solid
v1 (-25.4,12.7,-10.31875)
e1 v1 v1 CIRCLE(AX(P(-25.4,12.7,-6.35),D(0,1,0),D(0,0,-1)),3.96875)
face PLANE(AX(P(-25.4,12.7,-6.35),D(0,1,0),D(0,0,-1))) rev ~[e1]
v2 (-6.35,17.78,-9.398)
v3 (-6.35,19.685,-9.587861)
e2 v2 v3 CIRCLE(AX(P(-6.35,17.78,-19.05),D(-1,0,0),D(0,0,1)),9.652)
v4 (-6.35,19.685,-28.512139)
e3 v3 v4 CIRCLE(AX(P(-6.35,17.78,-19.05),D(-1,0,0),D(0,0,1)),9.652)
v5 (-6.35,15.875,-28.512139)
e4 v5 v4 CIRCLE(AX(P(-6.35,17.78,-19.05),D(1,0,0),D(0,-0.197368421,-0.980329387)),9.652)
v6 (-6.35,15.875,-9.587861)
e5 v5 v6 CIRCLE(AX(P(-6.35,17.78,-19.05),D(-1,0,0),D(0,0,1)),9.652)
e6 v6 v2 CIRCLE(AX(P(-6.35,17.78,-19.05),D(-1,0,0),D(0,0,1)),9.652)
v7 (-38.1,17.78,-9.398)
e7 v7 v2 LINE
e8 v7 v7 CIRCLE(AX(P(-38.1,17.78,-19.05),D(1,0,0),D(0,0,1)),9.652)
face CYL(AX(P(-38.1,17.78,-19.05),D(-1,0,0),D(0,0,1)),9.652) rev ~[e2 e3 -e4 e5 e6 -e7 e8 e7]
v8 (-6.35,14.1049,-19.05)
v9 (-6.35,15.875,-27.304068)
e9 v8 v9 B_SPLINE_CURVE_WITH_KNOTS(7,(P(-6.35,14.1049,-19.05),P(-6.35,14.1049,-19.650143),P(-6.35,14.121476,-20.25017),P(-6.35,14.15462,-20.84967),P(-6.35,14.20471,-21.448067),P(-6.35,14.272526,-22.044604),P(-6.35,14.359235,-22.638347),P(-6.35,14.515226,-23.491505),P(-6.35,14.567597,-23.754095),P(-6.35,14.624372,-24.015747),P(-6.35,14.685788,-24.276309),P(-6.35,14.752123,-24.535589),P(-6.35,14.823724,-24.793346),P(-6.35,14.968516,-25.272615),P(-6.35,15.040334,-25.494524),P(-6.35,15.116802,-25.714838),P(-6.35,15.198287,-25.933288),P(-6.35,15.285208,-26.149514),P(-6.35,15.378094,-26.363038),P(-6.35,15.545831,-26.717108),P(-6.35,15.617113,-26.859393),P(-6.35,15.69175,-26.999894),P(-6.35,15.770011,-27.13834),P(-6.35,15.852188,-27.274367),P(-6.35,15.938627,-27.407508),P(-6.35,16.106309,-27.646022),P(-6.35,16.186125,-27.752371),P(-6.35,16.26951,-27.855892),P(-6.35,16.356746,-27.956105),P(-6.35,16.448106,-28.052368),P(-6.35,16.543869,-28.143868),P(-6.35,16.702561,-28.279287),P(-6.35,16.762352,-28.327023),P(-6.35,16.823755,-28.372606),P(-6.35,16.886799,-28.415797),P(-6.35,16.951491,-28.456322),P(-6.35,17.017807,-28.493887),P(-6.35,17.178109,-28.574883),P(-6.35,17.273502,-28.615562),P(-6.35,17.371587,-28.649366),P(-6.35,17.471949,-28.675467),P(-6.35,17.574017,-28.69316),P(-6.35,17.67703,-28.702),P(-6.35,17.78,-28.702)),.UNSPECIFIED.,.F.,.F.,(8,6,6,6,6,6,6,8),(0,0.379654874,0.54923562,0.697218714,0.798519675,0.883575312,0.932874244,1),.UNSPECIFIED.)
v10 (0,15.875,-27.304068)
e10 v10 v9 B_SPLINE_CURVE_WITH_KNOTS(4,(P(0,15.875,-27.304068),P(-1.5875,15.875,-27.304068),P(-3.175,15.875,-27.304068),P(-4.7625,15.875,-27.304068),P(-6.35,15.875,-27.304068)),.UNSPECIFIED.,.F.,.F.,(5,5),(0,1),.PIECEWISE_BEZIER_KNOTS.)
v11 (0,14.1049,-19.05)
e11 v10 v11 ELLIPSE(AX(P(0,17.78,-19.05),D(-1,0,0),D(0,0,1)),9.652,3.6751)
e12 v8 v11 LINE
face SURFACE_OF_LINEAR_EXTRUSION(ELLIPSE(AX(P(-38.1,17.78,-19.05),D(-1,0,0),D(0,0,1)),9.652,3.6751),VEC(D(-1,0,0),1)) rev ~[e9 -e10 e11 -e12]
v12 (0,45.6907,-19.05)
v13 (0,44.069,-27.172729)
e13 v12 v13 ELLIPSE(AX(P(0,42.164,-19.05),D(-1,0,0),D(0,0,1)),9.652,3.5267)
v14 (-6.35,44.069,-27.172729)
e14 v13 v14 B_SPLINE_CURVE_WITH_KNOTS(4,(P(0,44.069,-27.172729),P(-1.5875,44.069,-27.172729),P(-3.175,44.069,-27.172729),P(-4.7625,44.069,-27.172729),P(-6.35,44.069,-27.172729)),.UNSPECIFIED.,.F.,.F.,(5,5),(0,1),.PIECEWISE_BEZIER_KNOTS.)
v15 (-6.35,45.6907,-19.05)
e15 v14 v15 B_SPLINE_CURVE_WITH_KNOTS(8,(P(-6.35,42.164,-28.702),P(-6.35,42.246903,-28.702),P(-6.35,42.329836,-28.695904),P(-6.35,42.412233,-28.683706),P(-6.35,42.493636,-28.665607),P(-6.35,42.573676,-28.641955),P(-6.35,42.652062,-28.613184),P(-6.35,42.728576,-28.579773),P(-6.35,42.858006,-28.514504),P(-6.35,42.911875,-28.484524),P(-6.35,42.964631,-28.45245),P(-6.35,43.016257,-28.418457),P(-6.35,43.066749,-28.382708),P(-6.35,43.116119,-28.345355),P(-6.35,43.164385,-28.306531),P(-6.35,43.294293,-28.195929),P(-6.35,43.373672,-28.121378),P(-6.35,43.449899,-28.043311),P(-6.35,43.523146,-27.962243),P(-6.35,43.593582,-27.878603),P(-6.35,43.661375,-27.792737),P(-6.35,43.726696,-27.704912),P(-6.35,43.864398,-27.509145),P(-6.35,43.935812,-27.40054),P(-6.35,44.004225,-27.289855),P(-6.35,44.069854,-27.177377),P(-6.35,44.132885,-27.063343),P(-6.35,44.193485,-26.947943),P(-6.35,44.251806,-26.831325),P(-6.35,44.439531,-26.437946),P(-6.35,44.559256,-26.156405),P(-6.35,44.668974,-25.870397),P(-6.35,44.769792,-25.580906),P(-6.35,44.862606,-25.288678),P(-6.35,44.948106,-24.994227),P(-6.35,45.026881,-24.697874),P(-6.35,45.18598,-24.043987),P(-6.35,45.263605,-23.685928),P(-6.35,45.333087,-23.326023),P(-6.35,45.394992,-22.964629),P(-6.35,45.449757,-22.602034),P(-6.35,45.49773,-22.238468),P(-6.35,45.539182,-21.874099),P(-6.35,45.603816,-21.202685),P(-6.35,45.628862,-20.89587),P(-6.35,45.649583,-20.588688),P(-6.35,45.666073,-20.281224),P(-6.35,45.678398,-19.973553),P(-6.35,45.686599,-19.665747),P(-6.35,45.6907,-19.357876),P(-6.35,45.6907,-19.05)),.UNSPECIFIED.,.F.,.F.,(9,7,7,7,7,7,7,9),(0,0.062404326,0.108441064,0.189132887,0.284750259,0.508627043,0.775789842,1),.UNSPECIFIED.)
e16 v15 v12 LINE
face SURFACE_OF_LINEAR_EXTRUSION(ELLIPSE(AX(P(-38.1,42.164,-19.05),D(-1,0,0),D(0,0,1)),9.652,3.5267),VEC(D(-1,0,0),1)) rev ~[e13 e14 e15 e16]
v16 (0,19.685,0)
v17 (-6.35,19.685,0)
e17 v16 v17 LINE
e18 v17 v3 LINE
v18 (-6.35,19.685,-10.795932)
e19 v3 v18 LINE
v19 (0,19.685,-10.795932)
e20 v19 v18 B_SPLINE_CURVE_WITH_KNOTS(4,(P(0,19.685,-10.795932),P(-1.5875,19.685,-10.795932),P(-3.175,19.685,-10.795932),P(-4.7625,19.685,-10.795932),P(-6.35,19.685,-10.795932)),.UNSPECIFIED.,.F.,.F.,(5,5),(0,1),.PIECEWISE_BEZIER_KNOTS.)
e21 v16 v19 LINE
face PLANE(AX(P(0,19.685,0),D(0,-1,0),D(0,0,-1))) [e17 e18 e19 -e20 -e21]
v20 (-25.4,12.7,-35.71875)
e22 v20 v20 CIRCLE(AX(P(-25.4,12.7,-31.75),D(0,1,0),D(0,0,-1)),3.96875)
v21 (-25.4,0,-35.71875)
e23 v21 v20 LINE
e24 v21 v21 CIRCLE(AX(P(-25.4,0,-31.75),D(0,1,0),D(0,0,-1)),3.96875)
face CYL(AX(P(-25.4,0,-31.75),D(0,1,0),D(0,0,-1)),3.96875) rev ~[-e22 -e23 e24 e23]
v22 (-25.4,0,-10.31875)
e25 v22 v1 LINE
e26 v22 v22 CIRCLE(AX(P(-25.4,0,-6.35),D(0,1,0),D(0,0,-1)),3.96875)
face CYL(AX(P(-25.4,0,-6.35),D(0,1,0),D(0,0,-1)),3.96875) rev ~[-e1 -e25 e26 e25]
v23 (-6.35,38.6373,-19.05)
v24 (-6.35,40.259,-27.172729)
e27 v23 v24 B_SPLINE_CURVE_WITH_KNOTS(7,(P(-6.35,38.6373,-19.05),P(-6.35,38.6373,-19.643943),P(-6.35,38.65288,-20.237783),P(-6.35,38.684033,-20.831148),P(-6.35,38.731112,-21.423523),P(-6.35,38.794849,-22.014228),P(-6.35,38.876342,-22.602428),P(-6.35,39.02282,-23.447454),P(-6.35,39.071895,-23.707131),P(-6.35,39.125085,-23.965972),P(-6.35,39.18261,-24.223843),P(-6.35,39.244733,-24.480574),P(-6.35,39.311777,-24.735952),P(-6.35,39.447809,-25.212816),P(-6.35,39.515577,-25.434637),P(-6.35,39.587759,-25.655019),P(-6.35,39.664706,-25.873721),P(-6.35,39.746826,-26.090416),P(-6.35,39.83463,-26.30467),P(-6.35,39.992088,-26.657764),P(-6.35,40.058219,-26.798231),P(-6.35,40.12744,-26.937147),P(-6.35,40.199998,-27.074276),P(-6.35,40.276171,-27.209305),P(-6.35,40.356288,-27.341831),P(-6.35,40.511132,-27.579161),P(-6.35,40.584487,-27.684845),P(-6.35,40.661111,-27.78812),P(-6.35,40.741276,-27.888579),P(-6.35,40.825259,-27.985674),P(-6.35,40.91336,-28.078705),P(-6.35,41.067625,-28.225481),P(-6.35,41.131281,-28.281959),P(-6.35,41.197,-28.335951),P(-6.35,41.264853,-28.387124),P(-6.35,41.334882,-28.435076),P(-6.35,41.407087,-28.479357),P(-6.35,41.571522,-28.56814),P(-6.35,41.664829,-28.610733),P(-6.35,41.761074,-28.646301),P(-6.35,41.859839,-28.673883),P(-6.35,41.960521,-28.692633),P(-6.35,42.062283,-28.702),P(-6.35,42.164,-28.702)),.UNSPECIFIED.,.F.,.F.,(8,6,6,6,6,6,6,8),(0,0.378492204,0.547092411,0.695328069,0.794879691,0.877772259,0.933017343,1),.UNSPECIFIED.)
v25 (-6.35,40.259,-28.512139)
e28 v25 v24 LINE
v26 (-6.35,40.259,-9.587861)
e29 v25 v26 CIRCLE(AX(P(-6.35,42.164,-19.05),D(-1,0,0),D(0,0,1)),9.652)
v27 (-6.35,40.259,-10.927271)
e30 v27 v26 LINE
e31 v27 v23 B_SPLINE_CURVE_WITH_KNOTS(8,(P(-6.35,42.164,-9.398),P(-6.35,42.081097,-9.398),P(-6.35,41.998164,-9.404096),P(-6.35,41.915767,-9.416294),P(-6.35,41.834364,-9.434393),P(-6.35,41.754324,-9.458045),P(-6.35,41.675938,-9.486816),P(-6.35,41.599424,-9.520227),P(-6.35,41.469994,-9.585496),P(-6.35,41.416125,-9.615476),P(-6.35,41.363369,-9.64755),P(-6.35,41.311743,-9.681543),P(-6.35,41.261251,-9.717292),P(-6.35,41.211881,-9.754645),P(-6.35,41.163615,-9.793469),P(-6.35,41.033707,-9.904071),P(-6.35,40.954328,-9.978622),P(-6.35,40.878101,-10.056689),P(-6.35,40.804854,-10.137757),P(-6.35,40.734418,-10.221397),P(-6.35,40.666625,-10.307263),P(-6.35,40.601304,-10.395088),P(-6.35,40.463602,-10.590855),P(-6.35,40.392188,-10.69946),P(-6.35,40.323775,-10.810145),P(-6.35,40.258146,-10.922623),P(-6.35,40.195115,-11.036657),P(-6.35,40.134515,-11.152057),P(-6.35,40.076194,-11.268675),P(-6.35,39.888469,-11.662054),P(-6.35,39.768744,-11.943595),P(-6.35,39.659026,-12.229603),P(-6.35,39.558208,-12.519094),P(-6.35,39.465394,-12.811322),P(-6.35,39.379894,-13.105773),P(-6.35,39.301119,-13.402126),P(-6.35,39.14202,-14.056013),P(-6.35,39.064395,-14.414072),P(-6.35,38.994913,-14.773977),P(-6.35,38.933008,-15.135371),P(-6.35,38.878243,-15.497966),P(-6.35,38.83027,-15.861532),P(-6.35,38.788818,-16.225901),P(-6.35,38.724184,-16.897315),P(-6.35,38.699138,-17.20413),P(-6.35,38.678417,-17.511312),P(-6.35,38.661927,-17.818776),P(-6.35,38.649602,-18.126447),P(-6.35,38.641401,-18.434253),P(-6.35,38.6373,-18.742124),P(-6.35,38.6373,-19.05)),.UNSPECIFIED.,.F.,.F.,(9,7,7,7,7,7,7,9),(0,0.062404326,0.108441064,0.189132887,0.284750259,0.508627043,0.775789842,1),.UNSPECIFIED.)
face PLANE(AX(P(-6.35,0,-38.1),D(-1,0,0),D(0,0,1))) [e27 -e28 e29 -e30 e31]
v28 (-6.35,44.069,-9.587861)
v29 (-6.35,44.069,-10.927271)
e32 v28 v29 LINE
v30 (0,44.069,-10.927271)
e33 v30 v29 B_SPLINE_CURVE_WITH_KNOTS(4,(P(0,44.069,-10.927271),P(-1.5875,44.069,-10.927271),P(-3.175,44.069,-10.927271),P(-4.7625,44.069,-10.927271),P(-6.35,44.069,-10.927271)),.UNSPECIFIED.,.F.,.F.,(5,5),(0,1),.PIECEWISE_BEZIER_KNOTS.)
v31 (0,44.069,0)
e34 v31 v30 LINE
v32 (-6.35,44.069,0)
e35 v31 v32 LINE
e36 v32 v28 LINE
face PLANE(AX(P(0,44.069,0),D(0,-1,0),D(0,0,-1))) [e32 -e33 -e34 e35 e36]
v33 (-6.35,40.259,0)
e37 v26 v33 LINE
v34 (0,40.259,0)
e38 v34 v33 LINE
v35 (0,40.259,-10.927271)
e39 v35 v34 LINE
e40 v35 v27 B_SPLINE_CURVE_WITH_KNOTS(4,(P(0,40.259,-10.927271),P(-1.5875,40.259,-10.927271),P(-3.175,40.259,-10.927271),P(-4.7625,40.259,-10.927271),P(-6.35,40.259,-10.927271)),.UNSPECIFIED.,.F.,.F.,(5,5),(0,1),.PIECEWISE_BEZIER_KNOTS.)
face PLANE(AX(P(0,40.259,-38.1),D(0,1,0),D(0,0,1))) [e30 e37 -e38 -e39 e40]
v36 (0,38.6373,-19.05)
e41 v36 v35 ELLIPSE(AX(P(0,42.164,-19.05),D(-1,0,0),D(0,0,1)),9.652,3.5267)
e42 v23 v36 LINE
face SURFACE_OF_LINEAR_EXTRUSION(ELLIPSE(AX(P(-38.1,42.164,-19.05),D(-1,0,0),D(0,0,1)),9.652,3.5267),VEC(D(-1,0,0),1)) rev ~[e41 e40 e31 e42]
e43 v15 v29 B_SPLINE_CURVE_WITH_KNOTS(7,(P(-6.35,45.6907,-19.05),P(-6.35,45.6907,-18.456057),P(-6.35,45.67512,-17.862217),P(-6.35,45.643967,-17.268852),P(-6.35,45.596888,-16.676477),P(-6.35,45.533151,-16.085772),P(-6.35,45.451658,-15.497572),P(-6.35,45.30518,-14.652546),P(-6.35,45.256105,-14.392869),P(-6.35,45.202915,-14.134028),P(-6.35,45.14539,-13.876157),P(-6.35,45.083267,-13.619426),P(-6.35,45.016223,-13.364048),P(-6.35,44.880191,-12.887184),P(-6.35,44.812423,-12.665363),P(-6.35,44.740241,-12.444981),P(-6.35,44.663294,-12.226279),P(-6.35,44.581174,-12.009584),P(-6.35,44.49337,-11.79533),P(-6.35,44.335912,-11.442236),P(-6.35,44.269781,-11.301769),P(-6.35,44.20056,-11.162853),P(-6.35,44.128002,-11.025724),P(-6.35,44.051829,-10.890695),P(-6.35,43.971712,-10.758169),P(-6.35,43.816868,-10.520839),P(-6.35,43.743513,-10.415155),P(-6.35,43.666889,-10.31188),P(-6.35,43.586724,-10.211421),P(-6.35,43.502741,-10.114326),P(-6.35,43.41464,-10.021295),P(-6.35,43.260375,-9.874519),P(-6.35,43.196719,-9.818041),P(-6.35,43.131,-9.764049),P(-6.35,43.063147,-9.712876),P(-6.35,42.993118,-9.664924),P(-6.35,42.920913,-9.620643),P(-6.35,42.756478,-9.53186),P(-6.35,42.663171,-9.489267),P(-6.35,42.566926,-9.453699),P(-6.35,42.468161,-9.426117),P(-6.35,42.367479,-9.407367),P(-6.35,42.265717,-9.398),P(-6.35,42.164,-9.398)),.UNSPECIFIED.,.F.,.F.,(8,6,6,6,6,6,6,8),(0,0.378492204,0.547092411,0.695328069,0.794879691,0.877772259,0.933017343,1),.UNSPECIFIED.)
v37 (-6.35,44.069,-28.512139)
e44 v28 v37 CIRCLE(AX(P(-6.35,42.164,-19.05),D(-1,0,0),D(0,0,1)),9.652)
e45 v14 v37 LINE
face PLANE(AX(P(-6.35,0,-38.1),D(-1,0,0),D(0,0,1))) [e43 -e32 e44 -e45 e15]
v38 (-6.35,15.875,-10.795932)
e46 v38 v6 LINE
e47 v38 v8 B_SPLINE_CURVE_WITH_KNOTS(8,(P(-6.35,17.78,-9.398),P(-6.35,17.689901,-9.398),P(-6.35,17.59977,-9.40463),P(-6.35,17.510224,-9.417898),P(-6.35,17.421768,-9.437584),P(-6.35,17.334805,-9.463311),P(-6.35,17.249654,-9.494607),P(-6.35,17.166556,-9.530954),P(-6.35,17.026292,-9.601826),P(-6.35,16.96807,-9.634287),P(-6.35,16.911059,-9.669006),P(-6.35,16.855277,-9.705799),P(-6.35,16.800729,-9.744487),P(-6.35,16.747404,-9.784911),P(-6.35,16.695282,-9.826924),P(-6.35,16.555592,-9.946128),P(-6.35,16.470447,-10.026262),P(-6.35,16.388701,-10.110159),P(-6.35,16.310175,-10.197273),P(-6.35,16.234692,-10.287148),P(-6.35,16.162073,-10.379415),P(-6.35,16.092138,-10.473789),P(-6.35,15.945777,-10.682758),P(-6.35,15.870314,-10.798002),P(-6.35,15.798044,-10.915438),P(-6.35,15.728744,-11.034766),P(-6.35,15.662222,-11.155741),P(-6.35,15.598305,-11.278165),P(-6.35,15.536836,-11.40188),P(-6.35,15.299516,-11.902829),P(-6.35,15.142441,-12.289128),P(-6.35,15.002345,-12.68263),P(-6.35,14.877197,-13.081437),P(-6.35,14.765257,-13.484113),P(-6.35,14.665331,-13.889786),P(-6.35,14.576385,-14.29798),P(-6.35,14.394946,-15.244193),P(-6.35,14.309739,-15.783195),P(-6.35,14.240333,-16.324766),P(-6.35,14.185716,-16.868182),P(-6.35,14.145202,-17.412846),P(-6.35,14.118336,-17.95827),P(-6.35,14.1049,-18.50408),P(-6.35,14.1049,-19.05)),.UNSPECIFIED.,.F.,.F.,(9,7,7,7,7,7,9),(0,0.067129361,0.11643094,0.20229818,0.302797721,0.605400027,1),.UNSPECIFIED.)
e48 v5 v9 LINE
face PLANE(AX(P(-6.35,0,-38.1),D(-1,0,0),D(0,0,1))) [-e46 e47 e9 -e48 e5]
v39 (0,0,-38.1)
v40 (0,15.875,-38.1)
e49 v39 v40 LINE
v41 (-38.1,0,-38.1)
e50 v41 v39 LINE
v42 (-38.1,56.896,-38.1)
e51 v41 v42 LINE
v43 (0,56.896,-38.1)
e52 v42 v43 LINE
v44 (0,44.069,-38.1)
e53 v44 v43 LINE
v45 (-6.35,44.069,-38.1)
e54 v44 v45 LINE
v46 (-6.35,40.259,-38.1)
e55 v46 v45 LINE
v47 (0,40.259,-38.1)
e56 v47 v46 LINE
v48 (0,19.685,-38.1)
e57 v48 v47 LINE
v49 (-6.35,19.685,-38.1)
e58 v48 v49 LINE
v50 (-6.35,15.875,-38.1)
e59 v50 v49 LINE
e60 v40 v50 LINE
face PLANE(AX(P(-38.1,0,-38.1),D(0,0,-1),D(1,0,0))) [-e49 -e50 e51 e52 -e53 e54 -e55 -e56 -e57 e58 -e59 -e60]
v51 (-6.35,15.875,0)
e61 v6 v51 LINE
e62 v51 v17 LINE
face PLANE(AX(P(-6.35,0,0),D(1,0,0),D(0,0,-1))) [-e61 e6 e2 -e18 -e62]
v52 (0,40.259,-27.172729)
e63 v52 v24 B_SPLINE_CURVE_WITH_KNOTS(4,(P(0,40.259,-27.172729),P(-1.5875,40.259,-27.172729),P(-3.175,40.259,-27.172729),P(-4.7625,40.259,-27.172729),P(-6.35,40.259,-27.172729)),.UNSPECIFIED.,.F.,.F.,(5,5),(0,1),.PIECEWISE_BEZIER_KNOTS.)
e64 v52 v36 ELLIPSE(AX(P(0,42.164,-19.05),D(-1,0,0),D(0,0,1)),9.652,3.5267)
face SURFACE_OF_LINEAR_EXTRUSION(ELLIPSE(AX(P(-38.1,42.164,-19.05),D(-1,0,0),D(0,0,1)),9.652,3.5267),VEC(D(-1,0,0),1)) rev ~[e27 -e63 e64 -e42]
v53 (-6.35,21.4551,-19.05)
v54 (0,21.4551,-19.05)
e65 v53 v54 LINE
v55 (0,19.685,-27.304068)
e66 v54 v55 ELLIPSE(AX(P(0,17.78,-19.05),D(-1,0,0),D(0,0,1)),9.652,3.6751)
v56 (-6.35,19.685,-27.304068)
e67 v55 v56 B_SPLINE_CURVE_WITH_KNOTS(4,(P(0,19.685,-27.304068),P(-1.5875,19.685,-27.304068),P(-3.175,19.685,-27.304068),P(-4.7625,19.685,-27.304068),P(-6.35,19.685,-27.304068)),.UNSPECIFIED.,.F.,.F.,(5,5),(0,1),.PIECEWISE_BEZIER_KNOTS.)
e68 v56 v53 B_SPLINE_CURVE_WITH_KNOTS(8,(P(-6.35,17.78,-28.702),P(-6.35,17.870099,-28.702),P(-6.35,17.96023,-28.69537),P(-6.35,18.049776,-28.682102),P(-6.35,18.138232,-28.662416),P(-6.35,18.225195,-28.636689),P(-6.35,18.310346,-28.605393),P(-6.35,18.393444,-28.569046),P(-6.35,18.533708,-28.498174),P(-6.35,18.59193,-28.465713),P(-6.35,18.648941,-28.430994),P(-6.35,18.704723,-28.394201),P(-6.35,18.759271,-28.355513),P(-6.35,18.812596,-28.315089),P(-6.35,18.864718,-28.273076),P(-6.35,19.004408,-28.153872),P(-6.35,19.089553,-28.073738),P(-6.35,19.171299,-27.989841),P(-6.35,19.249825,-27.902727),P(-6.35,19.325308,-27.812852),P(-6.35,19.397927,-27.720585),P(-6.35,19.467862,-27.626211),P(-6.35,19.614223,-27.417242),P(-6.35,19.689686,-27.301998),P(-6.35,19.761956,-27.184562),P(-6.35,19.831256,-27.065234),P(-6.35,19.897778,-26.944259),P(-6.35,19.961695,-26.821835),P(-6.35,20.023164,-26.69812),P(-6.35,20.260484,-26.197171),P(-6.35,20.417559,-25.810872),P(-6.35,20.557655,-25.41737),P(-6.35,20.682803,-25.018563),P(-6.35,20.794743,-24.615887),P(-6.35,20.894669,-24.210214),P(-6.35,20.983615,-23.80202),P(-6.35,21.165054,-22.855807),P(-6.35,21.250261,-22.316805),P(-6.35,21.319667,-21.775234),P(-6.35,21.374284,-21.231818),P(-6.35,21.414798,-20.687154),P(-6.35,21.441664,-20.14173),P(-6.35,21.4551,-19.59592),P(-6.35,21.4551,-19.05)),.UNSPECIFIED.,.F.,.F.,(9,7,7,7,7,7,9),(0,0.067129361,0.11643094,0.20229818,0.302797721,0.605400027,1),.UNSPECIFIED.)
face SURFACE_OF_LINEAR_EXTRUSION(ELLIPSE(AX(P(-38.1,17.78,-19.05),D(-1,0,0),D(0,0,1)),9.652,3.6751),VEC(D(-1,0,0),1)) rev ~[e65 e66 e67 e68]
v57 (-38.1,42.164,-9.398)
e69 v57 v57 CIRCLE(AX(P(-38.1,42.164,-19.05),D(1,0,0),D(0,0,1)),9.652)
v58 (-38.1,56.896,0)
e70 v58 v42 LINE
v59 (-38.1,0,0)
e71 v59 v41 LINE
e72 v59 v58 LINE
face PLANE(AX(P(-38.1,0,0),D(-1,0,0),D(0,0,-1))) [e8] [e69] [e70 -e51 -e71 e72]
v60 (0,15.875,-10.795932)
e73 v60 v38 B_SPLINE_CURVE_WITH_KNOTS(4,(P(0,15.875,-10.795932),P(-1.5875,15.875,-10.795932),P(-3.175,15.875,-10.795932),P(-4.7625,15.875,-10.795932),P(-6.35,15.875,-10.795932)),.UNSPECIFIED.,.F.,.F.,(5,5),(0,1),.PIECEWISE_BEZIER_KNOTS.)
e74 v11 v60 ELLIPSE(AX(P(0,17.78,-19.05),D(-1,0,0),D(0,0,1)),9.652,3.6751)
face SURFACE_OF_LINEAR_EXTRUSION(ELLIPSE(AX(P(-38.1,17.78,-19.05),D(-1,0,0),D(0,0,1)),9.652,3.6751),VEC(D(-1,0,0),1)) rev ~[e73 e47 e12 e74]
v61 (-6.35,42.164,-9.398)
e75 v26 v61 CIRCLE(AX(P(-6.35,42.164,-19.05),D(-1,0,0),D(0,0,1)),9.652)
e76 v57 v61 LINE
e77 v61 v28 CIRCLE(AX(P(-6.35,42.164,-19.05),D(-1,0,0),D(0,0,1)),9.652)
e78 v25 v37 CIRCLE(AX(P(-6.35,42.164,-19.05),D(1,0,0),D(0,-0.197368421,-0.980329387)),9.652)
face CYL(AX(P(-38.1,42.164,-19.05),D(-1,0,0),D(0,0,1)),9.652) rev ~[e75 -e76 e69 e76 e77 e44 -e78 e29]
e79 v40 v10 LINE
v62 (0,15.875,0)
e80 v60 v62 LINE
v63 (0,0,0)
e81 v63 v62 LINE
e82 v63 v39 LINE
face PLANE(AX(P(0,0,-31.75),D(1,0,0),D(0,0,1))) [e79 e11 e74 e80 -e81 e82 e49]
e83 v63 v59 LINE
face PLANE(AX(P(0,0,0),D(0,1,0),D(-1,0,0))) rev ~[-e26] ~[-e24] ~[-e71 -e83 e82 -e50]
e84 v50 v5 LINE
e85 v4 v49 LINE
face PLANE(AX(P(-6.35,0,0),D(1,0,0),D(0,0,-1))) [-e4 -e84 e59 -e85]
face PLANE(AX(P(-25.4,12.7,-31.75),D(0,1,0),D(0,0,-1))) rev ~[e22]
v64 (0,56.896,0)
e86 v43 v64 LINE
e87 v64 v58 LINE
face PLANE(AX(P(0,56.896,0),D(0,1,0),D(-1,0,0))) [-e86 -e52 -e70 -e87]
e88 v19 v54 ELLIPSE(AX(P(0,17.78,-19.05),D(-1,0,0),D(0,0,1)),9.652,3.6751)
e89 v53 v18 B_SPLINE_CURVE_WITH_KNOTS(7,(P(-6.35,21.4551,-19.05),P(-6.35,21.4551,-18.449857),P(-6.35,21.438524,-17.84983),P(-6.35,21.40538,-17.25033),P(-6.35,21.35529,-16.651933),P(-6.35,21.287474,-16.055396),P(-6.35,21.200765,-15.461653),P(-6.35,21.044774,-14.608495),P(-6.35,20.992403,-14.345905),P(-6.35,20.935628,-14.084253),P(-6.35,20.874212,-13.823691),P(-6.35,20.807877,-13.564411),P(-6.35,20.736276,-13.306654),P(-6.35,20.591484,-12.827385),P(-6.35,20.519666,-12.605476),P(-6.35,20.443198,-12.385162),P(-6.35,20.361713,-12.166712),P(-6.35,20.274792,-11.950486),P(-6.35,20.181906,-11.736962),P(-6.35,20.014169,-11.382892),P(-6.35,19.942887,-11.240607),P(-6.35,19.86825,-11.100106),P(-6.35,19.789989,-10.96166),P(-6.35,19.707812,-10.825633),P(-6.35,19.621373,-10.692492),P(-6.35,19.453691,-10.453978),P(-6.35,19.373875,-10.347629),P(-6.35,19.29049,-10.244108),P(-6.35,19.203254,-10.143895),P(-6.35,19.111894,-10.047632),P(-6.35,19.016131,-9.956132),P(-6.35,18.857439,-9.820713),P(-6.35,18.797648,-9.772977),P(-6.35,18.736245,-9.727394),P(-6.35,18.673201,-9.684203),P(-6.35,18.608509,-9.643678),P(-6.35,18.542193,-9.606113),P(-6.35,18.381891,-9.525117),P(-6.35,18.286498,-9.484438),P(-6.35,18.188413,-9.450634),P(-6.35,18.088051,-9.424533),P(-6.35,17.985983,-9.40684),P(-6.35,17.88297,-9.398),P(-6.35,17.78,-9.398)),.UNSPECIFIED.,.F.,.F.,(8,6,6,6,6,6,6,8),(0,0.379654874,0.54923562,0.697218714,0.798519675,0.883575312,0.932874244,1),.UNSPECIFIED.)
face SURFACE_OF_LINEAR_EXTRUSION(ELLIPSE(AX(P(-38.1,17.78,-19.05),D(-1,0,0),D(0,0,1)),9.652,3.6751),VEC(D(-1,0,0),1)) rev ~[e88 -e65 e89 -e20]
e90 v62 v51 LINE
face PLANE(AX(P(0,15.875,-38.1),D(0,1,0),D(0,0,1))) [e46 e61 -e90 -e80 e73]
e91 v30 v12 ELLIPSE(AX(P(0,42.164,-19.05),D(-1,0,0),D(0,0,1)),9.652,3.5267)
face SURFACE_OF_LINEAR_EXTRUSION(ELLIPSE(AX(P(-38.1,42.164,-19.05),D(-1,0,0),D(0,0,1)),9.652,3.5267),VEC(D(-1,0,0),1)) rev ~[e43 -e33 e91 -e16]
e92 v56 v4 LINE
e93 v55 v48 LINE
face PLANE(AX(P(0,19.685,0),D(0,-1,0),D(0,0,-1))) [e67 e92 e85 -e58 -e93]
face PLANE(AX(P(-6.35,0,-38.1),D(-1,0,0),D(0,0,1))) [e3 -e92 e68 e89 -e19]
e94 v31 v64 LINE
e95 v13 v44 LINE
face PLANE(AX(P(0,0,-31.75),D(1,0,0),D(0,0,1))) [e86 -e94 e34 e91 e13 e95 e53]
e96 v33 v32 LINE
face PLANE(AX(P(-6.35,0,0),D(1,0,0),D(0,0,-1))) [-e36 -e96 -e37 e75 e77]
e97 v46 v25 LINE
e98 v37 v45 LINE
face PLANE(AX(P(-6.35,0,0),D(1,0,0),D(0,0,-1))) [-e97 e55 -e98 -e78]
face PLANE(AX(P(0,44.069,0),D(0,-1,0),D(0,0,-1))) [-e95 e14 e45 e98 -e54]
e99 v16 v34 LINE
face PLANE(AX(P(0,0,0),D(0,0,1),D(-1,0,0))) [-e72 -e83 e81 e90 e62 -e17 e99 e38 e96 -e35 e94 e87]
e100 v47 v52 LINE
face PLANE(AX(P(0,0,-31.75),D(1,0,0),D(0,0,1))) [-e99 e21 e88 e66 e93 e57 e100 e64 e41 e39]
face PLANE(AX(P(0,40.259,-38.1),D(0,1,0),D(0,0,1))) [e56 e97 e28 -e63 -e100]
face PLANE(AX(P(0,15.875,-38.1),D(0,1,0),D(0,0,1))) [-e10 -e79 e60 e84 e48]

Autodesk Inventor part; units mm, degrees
ref_plane "YZ Plane" through (0, 0, 0) normal (1, 0, 0) x (0, 1, 0)
ref_plane "XZ Plane" through (0, 0, 0) normal (0, 1, 0) x (-1, 0, 0)
ref_plane "XY Plane" through (0, 0, 0) normal (0, 0, 1) x (1, 0, 0)
sketch "Sketch1" plane through (0, 0, 0) normal (0, 1, 0) x (-1, 0, 0)
  line L0 (0, 0) -> (38.1, 0)
  line L1 (38.1, 0) -> (38.1, -38.1)
  line L2 (38.1, -38.1) -> (0, -38.1)
  line L3 (0, -38.1) -> (0, 0)
  line L4 (0, -38.1) -> (0, -31.75)
  line L5 (0, -38.1) -> (6.35, -38.1) construction
  line L6 (0, -31.75) -> (25.4, -31.75)
  line L7 (25.4, -31.75) -> (25.4, -6.35)
  dimension "d0" = 38.1
  dimension "d1" = 38.1
  dimension "d2" = 6.35
  dimension "d3" = 90
  dimension "d4" = 25.4
  dimension "d5" = 90
  dimension "d6" = 25.4
extrude "Extrusion1" add sketch "Sketch1" along normal blind 56.896
hole "Hole1" at (-25.4, 0, -31.75) at (-25.4, 0, -6.35) direction (0, 1, 0) diameter 7.9375 depth 12.7
sketch "Sketch2" plane through (-38.1, 0, -38.1) normal (-1, 0, 0) x (0, 0, 1)
  line L0 (38.1, 0) -> (0, 0) projected
  line L1 (19.05, 0) -> (19.05, 17.78)
  line L2 (19.05, 0) -> (36.83, 0) construction
  line L3 (19.05, 17.78) -> (19.05, 27.432)
  line L4 (19.05, 17.78) -> (28.702, 17.78) construction
  line L5 (19.05, 27.432) -> (19.05, 32.512)
  line L6 (19.05, 32.512) -> (19.05, 42.164)
  circle A0 centre (19.05, 17.78) radius 9.652
  circle A1 centre (19.05, 42.164) radius 9.652
  ellipse E0 centre (19.05, 42.164) end of major axis (28.702, 42.164) minor radius 3.5267
  ellipse E1 centre (19.05, 17.78) end of major axis (28.702, 17.78) minor radius 3.6751
  line L7 (19.05, 42.164) -> (19.05, 56.896)
  dimension "d16" = 17.78
  dimension "d17" = 90
  dimension "d18" = 9.652
  dimension "d19" = 90
  dimension "d20" = 5.08
  dimension "d21" = 180
  dimension "d22" = 9.652
  dimension "d23" = 180
  dimension "d32" = 14.732
extrude "Extrusion2" cut sketch "Sketch2" against normal blind 31.75
extrude "Extrusion3" cut sketch "Sketch2" against normal blind 38.1 contours E1 L3 L1 | L1 L3 E1 | E0 L7 L6 | L6 L7 E0
sketch "Sketch3" plane through (0, 0, 0) normal (1, 0, 0) x (0, 0, -1)
  line L0 (38.1, 0) -> (38.1, 56.896) projected
  line L1 (0, 44.069) -> (38.1, 44.069)
  line L2 (38.1, 44.069) -> (38.1, 40.259)
  line L3 (38.1, 40.259) -> (0, 40.259)
  line L4 (0, 40.259) -> (0, 44.069)
  line L5 (0, 44.069) -> (38.1, 40.259) construction
  line L6 (38.1, 44.069) -> (0, 40.259) construction
  line L7 (0, 19.685) -> (38.1, 19.685)
  line L8 (38.1, 19.685) -> (38.1, 15.875)
  line L9 (38.1, 15.875) -> (0, 15.875)
  line L10 (0, 15.875) -> (0, 19.685)
  line L11 (0, 19.685) -> (38.1, 15.875) construction
  line L12 (38.1, 19.685) -> (0, 15.875) construction
  point P0 (0, 0)
  point P1 (19.05, 17.78)
  point P2 (19.05, 42.164)
  dimension "d28" = 3.81
  dimension "d29" = 3.81
extrude "Extrusion4" cut sketch "Sketch3" against normal blind 6.35
properties part number "Valve Holder"
